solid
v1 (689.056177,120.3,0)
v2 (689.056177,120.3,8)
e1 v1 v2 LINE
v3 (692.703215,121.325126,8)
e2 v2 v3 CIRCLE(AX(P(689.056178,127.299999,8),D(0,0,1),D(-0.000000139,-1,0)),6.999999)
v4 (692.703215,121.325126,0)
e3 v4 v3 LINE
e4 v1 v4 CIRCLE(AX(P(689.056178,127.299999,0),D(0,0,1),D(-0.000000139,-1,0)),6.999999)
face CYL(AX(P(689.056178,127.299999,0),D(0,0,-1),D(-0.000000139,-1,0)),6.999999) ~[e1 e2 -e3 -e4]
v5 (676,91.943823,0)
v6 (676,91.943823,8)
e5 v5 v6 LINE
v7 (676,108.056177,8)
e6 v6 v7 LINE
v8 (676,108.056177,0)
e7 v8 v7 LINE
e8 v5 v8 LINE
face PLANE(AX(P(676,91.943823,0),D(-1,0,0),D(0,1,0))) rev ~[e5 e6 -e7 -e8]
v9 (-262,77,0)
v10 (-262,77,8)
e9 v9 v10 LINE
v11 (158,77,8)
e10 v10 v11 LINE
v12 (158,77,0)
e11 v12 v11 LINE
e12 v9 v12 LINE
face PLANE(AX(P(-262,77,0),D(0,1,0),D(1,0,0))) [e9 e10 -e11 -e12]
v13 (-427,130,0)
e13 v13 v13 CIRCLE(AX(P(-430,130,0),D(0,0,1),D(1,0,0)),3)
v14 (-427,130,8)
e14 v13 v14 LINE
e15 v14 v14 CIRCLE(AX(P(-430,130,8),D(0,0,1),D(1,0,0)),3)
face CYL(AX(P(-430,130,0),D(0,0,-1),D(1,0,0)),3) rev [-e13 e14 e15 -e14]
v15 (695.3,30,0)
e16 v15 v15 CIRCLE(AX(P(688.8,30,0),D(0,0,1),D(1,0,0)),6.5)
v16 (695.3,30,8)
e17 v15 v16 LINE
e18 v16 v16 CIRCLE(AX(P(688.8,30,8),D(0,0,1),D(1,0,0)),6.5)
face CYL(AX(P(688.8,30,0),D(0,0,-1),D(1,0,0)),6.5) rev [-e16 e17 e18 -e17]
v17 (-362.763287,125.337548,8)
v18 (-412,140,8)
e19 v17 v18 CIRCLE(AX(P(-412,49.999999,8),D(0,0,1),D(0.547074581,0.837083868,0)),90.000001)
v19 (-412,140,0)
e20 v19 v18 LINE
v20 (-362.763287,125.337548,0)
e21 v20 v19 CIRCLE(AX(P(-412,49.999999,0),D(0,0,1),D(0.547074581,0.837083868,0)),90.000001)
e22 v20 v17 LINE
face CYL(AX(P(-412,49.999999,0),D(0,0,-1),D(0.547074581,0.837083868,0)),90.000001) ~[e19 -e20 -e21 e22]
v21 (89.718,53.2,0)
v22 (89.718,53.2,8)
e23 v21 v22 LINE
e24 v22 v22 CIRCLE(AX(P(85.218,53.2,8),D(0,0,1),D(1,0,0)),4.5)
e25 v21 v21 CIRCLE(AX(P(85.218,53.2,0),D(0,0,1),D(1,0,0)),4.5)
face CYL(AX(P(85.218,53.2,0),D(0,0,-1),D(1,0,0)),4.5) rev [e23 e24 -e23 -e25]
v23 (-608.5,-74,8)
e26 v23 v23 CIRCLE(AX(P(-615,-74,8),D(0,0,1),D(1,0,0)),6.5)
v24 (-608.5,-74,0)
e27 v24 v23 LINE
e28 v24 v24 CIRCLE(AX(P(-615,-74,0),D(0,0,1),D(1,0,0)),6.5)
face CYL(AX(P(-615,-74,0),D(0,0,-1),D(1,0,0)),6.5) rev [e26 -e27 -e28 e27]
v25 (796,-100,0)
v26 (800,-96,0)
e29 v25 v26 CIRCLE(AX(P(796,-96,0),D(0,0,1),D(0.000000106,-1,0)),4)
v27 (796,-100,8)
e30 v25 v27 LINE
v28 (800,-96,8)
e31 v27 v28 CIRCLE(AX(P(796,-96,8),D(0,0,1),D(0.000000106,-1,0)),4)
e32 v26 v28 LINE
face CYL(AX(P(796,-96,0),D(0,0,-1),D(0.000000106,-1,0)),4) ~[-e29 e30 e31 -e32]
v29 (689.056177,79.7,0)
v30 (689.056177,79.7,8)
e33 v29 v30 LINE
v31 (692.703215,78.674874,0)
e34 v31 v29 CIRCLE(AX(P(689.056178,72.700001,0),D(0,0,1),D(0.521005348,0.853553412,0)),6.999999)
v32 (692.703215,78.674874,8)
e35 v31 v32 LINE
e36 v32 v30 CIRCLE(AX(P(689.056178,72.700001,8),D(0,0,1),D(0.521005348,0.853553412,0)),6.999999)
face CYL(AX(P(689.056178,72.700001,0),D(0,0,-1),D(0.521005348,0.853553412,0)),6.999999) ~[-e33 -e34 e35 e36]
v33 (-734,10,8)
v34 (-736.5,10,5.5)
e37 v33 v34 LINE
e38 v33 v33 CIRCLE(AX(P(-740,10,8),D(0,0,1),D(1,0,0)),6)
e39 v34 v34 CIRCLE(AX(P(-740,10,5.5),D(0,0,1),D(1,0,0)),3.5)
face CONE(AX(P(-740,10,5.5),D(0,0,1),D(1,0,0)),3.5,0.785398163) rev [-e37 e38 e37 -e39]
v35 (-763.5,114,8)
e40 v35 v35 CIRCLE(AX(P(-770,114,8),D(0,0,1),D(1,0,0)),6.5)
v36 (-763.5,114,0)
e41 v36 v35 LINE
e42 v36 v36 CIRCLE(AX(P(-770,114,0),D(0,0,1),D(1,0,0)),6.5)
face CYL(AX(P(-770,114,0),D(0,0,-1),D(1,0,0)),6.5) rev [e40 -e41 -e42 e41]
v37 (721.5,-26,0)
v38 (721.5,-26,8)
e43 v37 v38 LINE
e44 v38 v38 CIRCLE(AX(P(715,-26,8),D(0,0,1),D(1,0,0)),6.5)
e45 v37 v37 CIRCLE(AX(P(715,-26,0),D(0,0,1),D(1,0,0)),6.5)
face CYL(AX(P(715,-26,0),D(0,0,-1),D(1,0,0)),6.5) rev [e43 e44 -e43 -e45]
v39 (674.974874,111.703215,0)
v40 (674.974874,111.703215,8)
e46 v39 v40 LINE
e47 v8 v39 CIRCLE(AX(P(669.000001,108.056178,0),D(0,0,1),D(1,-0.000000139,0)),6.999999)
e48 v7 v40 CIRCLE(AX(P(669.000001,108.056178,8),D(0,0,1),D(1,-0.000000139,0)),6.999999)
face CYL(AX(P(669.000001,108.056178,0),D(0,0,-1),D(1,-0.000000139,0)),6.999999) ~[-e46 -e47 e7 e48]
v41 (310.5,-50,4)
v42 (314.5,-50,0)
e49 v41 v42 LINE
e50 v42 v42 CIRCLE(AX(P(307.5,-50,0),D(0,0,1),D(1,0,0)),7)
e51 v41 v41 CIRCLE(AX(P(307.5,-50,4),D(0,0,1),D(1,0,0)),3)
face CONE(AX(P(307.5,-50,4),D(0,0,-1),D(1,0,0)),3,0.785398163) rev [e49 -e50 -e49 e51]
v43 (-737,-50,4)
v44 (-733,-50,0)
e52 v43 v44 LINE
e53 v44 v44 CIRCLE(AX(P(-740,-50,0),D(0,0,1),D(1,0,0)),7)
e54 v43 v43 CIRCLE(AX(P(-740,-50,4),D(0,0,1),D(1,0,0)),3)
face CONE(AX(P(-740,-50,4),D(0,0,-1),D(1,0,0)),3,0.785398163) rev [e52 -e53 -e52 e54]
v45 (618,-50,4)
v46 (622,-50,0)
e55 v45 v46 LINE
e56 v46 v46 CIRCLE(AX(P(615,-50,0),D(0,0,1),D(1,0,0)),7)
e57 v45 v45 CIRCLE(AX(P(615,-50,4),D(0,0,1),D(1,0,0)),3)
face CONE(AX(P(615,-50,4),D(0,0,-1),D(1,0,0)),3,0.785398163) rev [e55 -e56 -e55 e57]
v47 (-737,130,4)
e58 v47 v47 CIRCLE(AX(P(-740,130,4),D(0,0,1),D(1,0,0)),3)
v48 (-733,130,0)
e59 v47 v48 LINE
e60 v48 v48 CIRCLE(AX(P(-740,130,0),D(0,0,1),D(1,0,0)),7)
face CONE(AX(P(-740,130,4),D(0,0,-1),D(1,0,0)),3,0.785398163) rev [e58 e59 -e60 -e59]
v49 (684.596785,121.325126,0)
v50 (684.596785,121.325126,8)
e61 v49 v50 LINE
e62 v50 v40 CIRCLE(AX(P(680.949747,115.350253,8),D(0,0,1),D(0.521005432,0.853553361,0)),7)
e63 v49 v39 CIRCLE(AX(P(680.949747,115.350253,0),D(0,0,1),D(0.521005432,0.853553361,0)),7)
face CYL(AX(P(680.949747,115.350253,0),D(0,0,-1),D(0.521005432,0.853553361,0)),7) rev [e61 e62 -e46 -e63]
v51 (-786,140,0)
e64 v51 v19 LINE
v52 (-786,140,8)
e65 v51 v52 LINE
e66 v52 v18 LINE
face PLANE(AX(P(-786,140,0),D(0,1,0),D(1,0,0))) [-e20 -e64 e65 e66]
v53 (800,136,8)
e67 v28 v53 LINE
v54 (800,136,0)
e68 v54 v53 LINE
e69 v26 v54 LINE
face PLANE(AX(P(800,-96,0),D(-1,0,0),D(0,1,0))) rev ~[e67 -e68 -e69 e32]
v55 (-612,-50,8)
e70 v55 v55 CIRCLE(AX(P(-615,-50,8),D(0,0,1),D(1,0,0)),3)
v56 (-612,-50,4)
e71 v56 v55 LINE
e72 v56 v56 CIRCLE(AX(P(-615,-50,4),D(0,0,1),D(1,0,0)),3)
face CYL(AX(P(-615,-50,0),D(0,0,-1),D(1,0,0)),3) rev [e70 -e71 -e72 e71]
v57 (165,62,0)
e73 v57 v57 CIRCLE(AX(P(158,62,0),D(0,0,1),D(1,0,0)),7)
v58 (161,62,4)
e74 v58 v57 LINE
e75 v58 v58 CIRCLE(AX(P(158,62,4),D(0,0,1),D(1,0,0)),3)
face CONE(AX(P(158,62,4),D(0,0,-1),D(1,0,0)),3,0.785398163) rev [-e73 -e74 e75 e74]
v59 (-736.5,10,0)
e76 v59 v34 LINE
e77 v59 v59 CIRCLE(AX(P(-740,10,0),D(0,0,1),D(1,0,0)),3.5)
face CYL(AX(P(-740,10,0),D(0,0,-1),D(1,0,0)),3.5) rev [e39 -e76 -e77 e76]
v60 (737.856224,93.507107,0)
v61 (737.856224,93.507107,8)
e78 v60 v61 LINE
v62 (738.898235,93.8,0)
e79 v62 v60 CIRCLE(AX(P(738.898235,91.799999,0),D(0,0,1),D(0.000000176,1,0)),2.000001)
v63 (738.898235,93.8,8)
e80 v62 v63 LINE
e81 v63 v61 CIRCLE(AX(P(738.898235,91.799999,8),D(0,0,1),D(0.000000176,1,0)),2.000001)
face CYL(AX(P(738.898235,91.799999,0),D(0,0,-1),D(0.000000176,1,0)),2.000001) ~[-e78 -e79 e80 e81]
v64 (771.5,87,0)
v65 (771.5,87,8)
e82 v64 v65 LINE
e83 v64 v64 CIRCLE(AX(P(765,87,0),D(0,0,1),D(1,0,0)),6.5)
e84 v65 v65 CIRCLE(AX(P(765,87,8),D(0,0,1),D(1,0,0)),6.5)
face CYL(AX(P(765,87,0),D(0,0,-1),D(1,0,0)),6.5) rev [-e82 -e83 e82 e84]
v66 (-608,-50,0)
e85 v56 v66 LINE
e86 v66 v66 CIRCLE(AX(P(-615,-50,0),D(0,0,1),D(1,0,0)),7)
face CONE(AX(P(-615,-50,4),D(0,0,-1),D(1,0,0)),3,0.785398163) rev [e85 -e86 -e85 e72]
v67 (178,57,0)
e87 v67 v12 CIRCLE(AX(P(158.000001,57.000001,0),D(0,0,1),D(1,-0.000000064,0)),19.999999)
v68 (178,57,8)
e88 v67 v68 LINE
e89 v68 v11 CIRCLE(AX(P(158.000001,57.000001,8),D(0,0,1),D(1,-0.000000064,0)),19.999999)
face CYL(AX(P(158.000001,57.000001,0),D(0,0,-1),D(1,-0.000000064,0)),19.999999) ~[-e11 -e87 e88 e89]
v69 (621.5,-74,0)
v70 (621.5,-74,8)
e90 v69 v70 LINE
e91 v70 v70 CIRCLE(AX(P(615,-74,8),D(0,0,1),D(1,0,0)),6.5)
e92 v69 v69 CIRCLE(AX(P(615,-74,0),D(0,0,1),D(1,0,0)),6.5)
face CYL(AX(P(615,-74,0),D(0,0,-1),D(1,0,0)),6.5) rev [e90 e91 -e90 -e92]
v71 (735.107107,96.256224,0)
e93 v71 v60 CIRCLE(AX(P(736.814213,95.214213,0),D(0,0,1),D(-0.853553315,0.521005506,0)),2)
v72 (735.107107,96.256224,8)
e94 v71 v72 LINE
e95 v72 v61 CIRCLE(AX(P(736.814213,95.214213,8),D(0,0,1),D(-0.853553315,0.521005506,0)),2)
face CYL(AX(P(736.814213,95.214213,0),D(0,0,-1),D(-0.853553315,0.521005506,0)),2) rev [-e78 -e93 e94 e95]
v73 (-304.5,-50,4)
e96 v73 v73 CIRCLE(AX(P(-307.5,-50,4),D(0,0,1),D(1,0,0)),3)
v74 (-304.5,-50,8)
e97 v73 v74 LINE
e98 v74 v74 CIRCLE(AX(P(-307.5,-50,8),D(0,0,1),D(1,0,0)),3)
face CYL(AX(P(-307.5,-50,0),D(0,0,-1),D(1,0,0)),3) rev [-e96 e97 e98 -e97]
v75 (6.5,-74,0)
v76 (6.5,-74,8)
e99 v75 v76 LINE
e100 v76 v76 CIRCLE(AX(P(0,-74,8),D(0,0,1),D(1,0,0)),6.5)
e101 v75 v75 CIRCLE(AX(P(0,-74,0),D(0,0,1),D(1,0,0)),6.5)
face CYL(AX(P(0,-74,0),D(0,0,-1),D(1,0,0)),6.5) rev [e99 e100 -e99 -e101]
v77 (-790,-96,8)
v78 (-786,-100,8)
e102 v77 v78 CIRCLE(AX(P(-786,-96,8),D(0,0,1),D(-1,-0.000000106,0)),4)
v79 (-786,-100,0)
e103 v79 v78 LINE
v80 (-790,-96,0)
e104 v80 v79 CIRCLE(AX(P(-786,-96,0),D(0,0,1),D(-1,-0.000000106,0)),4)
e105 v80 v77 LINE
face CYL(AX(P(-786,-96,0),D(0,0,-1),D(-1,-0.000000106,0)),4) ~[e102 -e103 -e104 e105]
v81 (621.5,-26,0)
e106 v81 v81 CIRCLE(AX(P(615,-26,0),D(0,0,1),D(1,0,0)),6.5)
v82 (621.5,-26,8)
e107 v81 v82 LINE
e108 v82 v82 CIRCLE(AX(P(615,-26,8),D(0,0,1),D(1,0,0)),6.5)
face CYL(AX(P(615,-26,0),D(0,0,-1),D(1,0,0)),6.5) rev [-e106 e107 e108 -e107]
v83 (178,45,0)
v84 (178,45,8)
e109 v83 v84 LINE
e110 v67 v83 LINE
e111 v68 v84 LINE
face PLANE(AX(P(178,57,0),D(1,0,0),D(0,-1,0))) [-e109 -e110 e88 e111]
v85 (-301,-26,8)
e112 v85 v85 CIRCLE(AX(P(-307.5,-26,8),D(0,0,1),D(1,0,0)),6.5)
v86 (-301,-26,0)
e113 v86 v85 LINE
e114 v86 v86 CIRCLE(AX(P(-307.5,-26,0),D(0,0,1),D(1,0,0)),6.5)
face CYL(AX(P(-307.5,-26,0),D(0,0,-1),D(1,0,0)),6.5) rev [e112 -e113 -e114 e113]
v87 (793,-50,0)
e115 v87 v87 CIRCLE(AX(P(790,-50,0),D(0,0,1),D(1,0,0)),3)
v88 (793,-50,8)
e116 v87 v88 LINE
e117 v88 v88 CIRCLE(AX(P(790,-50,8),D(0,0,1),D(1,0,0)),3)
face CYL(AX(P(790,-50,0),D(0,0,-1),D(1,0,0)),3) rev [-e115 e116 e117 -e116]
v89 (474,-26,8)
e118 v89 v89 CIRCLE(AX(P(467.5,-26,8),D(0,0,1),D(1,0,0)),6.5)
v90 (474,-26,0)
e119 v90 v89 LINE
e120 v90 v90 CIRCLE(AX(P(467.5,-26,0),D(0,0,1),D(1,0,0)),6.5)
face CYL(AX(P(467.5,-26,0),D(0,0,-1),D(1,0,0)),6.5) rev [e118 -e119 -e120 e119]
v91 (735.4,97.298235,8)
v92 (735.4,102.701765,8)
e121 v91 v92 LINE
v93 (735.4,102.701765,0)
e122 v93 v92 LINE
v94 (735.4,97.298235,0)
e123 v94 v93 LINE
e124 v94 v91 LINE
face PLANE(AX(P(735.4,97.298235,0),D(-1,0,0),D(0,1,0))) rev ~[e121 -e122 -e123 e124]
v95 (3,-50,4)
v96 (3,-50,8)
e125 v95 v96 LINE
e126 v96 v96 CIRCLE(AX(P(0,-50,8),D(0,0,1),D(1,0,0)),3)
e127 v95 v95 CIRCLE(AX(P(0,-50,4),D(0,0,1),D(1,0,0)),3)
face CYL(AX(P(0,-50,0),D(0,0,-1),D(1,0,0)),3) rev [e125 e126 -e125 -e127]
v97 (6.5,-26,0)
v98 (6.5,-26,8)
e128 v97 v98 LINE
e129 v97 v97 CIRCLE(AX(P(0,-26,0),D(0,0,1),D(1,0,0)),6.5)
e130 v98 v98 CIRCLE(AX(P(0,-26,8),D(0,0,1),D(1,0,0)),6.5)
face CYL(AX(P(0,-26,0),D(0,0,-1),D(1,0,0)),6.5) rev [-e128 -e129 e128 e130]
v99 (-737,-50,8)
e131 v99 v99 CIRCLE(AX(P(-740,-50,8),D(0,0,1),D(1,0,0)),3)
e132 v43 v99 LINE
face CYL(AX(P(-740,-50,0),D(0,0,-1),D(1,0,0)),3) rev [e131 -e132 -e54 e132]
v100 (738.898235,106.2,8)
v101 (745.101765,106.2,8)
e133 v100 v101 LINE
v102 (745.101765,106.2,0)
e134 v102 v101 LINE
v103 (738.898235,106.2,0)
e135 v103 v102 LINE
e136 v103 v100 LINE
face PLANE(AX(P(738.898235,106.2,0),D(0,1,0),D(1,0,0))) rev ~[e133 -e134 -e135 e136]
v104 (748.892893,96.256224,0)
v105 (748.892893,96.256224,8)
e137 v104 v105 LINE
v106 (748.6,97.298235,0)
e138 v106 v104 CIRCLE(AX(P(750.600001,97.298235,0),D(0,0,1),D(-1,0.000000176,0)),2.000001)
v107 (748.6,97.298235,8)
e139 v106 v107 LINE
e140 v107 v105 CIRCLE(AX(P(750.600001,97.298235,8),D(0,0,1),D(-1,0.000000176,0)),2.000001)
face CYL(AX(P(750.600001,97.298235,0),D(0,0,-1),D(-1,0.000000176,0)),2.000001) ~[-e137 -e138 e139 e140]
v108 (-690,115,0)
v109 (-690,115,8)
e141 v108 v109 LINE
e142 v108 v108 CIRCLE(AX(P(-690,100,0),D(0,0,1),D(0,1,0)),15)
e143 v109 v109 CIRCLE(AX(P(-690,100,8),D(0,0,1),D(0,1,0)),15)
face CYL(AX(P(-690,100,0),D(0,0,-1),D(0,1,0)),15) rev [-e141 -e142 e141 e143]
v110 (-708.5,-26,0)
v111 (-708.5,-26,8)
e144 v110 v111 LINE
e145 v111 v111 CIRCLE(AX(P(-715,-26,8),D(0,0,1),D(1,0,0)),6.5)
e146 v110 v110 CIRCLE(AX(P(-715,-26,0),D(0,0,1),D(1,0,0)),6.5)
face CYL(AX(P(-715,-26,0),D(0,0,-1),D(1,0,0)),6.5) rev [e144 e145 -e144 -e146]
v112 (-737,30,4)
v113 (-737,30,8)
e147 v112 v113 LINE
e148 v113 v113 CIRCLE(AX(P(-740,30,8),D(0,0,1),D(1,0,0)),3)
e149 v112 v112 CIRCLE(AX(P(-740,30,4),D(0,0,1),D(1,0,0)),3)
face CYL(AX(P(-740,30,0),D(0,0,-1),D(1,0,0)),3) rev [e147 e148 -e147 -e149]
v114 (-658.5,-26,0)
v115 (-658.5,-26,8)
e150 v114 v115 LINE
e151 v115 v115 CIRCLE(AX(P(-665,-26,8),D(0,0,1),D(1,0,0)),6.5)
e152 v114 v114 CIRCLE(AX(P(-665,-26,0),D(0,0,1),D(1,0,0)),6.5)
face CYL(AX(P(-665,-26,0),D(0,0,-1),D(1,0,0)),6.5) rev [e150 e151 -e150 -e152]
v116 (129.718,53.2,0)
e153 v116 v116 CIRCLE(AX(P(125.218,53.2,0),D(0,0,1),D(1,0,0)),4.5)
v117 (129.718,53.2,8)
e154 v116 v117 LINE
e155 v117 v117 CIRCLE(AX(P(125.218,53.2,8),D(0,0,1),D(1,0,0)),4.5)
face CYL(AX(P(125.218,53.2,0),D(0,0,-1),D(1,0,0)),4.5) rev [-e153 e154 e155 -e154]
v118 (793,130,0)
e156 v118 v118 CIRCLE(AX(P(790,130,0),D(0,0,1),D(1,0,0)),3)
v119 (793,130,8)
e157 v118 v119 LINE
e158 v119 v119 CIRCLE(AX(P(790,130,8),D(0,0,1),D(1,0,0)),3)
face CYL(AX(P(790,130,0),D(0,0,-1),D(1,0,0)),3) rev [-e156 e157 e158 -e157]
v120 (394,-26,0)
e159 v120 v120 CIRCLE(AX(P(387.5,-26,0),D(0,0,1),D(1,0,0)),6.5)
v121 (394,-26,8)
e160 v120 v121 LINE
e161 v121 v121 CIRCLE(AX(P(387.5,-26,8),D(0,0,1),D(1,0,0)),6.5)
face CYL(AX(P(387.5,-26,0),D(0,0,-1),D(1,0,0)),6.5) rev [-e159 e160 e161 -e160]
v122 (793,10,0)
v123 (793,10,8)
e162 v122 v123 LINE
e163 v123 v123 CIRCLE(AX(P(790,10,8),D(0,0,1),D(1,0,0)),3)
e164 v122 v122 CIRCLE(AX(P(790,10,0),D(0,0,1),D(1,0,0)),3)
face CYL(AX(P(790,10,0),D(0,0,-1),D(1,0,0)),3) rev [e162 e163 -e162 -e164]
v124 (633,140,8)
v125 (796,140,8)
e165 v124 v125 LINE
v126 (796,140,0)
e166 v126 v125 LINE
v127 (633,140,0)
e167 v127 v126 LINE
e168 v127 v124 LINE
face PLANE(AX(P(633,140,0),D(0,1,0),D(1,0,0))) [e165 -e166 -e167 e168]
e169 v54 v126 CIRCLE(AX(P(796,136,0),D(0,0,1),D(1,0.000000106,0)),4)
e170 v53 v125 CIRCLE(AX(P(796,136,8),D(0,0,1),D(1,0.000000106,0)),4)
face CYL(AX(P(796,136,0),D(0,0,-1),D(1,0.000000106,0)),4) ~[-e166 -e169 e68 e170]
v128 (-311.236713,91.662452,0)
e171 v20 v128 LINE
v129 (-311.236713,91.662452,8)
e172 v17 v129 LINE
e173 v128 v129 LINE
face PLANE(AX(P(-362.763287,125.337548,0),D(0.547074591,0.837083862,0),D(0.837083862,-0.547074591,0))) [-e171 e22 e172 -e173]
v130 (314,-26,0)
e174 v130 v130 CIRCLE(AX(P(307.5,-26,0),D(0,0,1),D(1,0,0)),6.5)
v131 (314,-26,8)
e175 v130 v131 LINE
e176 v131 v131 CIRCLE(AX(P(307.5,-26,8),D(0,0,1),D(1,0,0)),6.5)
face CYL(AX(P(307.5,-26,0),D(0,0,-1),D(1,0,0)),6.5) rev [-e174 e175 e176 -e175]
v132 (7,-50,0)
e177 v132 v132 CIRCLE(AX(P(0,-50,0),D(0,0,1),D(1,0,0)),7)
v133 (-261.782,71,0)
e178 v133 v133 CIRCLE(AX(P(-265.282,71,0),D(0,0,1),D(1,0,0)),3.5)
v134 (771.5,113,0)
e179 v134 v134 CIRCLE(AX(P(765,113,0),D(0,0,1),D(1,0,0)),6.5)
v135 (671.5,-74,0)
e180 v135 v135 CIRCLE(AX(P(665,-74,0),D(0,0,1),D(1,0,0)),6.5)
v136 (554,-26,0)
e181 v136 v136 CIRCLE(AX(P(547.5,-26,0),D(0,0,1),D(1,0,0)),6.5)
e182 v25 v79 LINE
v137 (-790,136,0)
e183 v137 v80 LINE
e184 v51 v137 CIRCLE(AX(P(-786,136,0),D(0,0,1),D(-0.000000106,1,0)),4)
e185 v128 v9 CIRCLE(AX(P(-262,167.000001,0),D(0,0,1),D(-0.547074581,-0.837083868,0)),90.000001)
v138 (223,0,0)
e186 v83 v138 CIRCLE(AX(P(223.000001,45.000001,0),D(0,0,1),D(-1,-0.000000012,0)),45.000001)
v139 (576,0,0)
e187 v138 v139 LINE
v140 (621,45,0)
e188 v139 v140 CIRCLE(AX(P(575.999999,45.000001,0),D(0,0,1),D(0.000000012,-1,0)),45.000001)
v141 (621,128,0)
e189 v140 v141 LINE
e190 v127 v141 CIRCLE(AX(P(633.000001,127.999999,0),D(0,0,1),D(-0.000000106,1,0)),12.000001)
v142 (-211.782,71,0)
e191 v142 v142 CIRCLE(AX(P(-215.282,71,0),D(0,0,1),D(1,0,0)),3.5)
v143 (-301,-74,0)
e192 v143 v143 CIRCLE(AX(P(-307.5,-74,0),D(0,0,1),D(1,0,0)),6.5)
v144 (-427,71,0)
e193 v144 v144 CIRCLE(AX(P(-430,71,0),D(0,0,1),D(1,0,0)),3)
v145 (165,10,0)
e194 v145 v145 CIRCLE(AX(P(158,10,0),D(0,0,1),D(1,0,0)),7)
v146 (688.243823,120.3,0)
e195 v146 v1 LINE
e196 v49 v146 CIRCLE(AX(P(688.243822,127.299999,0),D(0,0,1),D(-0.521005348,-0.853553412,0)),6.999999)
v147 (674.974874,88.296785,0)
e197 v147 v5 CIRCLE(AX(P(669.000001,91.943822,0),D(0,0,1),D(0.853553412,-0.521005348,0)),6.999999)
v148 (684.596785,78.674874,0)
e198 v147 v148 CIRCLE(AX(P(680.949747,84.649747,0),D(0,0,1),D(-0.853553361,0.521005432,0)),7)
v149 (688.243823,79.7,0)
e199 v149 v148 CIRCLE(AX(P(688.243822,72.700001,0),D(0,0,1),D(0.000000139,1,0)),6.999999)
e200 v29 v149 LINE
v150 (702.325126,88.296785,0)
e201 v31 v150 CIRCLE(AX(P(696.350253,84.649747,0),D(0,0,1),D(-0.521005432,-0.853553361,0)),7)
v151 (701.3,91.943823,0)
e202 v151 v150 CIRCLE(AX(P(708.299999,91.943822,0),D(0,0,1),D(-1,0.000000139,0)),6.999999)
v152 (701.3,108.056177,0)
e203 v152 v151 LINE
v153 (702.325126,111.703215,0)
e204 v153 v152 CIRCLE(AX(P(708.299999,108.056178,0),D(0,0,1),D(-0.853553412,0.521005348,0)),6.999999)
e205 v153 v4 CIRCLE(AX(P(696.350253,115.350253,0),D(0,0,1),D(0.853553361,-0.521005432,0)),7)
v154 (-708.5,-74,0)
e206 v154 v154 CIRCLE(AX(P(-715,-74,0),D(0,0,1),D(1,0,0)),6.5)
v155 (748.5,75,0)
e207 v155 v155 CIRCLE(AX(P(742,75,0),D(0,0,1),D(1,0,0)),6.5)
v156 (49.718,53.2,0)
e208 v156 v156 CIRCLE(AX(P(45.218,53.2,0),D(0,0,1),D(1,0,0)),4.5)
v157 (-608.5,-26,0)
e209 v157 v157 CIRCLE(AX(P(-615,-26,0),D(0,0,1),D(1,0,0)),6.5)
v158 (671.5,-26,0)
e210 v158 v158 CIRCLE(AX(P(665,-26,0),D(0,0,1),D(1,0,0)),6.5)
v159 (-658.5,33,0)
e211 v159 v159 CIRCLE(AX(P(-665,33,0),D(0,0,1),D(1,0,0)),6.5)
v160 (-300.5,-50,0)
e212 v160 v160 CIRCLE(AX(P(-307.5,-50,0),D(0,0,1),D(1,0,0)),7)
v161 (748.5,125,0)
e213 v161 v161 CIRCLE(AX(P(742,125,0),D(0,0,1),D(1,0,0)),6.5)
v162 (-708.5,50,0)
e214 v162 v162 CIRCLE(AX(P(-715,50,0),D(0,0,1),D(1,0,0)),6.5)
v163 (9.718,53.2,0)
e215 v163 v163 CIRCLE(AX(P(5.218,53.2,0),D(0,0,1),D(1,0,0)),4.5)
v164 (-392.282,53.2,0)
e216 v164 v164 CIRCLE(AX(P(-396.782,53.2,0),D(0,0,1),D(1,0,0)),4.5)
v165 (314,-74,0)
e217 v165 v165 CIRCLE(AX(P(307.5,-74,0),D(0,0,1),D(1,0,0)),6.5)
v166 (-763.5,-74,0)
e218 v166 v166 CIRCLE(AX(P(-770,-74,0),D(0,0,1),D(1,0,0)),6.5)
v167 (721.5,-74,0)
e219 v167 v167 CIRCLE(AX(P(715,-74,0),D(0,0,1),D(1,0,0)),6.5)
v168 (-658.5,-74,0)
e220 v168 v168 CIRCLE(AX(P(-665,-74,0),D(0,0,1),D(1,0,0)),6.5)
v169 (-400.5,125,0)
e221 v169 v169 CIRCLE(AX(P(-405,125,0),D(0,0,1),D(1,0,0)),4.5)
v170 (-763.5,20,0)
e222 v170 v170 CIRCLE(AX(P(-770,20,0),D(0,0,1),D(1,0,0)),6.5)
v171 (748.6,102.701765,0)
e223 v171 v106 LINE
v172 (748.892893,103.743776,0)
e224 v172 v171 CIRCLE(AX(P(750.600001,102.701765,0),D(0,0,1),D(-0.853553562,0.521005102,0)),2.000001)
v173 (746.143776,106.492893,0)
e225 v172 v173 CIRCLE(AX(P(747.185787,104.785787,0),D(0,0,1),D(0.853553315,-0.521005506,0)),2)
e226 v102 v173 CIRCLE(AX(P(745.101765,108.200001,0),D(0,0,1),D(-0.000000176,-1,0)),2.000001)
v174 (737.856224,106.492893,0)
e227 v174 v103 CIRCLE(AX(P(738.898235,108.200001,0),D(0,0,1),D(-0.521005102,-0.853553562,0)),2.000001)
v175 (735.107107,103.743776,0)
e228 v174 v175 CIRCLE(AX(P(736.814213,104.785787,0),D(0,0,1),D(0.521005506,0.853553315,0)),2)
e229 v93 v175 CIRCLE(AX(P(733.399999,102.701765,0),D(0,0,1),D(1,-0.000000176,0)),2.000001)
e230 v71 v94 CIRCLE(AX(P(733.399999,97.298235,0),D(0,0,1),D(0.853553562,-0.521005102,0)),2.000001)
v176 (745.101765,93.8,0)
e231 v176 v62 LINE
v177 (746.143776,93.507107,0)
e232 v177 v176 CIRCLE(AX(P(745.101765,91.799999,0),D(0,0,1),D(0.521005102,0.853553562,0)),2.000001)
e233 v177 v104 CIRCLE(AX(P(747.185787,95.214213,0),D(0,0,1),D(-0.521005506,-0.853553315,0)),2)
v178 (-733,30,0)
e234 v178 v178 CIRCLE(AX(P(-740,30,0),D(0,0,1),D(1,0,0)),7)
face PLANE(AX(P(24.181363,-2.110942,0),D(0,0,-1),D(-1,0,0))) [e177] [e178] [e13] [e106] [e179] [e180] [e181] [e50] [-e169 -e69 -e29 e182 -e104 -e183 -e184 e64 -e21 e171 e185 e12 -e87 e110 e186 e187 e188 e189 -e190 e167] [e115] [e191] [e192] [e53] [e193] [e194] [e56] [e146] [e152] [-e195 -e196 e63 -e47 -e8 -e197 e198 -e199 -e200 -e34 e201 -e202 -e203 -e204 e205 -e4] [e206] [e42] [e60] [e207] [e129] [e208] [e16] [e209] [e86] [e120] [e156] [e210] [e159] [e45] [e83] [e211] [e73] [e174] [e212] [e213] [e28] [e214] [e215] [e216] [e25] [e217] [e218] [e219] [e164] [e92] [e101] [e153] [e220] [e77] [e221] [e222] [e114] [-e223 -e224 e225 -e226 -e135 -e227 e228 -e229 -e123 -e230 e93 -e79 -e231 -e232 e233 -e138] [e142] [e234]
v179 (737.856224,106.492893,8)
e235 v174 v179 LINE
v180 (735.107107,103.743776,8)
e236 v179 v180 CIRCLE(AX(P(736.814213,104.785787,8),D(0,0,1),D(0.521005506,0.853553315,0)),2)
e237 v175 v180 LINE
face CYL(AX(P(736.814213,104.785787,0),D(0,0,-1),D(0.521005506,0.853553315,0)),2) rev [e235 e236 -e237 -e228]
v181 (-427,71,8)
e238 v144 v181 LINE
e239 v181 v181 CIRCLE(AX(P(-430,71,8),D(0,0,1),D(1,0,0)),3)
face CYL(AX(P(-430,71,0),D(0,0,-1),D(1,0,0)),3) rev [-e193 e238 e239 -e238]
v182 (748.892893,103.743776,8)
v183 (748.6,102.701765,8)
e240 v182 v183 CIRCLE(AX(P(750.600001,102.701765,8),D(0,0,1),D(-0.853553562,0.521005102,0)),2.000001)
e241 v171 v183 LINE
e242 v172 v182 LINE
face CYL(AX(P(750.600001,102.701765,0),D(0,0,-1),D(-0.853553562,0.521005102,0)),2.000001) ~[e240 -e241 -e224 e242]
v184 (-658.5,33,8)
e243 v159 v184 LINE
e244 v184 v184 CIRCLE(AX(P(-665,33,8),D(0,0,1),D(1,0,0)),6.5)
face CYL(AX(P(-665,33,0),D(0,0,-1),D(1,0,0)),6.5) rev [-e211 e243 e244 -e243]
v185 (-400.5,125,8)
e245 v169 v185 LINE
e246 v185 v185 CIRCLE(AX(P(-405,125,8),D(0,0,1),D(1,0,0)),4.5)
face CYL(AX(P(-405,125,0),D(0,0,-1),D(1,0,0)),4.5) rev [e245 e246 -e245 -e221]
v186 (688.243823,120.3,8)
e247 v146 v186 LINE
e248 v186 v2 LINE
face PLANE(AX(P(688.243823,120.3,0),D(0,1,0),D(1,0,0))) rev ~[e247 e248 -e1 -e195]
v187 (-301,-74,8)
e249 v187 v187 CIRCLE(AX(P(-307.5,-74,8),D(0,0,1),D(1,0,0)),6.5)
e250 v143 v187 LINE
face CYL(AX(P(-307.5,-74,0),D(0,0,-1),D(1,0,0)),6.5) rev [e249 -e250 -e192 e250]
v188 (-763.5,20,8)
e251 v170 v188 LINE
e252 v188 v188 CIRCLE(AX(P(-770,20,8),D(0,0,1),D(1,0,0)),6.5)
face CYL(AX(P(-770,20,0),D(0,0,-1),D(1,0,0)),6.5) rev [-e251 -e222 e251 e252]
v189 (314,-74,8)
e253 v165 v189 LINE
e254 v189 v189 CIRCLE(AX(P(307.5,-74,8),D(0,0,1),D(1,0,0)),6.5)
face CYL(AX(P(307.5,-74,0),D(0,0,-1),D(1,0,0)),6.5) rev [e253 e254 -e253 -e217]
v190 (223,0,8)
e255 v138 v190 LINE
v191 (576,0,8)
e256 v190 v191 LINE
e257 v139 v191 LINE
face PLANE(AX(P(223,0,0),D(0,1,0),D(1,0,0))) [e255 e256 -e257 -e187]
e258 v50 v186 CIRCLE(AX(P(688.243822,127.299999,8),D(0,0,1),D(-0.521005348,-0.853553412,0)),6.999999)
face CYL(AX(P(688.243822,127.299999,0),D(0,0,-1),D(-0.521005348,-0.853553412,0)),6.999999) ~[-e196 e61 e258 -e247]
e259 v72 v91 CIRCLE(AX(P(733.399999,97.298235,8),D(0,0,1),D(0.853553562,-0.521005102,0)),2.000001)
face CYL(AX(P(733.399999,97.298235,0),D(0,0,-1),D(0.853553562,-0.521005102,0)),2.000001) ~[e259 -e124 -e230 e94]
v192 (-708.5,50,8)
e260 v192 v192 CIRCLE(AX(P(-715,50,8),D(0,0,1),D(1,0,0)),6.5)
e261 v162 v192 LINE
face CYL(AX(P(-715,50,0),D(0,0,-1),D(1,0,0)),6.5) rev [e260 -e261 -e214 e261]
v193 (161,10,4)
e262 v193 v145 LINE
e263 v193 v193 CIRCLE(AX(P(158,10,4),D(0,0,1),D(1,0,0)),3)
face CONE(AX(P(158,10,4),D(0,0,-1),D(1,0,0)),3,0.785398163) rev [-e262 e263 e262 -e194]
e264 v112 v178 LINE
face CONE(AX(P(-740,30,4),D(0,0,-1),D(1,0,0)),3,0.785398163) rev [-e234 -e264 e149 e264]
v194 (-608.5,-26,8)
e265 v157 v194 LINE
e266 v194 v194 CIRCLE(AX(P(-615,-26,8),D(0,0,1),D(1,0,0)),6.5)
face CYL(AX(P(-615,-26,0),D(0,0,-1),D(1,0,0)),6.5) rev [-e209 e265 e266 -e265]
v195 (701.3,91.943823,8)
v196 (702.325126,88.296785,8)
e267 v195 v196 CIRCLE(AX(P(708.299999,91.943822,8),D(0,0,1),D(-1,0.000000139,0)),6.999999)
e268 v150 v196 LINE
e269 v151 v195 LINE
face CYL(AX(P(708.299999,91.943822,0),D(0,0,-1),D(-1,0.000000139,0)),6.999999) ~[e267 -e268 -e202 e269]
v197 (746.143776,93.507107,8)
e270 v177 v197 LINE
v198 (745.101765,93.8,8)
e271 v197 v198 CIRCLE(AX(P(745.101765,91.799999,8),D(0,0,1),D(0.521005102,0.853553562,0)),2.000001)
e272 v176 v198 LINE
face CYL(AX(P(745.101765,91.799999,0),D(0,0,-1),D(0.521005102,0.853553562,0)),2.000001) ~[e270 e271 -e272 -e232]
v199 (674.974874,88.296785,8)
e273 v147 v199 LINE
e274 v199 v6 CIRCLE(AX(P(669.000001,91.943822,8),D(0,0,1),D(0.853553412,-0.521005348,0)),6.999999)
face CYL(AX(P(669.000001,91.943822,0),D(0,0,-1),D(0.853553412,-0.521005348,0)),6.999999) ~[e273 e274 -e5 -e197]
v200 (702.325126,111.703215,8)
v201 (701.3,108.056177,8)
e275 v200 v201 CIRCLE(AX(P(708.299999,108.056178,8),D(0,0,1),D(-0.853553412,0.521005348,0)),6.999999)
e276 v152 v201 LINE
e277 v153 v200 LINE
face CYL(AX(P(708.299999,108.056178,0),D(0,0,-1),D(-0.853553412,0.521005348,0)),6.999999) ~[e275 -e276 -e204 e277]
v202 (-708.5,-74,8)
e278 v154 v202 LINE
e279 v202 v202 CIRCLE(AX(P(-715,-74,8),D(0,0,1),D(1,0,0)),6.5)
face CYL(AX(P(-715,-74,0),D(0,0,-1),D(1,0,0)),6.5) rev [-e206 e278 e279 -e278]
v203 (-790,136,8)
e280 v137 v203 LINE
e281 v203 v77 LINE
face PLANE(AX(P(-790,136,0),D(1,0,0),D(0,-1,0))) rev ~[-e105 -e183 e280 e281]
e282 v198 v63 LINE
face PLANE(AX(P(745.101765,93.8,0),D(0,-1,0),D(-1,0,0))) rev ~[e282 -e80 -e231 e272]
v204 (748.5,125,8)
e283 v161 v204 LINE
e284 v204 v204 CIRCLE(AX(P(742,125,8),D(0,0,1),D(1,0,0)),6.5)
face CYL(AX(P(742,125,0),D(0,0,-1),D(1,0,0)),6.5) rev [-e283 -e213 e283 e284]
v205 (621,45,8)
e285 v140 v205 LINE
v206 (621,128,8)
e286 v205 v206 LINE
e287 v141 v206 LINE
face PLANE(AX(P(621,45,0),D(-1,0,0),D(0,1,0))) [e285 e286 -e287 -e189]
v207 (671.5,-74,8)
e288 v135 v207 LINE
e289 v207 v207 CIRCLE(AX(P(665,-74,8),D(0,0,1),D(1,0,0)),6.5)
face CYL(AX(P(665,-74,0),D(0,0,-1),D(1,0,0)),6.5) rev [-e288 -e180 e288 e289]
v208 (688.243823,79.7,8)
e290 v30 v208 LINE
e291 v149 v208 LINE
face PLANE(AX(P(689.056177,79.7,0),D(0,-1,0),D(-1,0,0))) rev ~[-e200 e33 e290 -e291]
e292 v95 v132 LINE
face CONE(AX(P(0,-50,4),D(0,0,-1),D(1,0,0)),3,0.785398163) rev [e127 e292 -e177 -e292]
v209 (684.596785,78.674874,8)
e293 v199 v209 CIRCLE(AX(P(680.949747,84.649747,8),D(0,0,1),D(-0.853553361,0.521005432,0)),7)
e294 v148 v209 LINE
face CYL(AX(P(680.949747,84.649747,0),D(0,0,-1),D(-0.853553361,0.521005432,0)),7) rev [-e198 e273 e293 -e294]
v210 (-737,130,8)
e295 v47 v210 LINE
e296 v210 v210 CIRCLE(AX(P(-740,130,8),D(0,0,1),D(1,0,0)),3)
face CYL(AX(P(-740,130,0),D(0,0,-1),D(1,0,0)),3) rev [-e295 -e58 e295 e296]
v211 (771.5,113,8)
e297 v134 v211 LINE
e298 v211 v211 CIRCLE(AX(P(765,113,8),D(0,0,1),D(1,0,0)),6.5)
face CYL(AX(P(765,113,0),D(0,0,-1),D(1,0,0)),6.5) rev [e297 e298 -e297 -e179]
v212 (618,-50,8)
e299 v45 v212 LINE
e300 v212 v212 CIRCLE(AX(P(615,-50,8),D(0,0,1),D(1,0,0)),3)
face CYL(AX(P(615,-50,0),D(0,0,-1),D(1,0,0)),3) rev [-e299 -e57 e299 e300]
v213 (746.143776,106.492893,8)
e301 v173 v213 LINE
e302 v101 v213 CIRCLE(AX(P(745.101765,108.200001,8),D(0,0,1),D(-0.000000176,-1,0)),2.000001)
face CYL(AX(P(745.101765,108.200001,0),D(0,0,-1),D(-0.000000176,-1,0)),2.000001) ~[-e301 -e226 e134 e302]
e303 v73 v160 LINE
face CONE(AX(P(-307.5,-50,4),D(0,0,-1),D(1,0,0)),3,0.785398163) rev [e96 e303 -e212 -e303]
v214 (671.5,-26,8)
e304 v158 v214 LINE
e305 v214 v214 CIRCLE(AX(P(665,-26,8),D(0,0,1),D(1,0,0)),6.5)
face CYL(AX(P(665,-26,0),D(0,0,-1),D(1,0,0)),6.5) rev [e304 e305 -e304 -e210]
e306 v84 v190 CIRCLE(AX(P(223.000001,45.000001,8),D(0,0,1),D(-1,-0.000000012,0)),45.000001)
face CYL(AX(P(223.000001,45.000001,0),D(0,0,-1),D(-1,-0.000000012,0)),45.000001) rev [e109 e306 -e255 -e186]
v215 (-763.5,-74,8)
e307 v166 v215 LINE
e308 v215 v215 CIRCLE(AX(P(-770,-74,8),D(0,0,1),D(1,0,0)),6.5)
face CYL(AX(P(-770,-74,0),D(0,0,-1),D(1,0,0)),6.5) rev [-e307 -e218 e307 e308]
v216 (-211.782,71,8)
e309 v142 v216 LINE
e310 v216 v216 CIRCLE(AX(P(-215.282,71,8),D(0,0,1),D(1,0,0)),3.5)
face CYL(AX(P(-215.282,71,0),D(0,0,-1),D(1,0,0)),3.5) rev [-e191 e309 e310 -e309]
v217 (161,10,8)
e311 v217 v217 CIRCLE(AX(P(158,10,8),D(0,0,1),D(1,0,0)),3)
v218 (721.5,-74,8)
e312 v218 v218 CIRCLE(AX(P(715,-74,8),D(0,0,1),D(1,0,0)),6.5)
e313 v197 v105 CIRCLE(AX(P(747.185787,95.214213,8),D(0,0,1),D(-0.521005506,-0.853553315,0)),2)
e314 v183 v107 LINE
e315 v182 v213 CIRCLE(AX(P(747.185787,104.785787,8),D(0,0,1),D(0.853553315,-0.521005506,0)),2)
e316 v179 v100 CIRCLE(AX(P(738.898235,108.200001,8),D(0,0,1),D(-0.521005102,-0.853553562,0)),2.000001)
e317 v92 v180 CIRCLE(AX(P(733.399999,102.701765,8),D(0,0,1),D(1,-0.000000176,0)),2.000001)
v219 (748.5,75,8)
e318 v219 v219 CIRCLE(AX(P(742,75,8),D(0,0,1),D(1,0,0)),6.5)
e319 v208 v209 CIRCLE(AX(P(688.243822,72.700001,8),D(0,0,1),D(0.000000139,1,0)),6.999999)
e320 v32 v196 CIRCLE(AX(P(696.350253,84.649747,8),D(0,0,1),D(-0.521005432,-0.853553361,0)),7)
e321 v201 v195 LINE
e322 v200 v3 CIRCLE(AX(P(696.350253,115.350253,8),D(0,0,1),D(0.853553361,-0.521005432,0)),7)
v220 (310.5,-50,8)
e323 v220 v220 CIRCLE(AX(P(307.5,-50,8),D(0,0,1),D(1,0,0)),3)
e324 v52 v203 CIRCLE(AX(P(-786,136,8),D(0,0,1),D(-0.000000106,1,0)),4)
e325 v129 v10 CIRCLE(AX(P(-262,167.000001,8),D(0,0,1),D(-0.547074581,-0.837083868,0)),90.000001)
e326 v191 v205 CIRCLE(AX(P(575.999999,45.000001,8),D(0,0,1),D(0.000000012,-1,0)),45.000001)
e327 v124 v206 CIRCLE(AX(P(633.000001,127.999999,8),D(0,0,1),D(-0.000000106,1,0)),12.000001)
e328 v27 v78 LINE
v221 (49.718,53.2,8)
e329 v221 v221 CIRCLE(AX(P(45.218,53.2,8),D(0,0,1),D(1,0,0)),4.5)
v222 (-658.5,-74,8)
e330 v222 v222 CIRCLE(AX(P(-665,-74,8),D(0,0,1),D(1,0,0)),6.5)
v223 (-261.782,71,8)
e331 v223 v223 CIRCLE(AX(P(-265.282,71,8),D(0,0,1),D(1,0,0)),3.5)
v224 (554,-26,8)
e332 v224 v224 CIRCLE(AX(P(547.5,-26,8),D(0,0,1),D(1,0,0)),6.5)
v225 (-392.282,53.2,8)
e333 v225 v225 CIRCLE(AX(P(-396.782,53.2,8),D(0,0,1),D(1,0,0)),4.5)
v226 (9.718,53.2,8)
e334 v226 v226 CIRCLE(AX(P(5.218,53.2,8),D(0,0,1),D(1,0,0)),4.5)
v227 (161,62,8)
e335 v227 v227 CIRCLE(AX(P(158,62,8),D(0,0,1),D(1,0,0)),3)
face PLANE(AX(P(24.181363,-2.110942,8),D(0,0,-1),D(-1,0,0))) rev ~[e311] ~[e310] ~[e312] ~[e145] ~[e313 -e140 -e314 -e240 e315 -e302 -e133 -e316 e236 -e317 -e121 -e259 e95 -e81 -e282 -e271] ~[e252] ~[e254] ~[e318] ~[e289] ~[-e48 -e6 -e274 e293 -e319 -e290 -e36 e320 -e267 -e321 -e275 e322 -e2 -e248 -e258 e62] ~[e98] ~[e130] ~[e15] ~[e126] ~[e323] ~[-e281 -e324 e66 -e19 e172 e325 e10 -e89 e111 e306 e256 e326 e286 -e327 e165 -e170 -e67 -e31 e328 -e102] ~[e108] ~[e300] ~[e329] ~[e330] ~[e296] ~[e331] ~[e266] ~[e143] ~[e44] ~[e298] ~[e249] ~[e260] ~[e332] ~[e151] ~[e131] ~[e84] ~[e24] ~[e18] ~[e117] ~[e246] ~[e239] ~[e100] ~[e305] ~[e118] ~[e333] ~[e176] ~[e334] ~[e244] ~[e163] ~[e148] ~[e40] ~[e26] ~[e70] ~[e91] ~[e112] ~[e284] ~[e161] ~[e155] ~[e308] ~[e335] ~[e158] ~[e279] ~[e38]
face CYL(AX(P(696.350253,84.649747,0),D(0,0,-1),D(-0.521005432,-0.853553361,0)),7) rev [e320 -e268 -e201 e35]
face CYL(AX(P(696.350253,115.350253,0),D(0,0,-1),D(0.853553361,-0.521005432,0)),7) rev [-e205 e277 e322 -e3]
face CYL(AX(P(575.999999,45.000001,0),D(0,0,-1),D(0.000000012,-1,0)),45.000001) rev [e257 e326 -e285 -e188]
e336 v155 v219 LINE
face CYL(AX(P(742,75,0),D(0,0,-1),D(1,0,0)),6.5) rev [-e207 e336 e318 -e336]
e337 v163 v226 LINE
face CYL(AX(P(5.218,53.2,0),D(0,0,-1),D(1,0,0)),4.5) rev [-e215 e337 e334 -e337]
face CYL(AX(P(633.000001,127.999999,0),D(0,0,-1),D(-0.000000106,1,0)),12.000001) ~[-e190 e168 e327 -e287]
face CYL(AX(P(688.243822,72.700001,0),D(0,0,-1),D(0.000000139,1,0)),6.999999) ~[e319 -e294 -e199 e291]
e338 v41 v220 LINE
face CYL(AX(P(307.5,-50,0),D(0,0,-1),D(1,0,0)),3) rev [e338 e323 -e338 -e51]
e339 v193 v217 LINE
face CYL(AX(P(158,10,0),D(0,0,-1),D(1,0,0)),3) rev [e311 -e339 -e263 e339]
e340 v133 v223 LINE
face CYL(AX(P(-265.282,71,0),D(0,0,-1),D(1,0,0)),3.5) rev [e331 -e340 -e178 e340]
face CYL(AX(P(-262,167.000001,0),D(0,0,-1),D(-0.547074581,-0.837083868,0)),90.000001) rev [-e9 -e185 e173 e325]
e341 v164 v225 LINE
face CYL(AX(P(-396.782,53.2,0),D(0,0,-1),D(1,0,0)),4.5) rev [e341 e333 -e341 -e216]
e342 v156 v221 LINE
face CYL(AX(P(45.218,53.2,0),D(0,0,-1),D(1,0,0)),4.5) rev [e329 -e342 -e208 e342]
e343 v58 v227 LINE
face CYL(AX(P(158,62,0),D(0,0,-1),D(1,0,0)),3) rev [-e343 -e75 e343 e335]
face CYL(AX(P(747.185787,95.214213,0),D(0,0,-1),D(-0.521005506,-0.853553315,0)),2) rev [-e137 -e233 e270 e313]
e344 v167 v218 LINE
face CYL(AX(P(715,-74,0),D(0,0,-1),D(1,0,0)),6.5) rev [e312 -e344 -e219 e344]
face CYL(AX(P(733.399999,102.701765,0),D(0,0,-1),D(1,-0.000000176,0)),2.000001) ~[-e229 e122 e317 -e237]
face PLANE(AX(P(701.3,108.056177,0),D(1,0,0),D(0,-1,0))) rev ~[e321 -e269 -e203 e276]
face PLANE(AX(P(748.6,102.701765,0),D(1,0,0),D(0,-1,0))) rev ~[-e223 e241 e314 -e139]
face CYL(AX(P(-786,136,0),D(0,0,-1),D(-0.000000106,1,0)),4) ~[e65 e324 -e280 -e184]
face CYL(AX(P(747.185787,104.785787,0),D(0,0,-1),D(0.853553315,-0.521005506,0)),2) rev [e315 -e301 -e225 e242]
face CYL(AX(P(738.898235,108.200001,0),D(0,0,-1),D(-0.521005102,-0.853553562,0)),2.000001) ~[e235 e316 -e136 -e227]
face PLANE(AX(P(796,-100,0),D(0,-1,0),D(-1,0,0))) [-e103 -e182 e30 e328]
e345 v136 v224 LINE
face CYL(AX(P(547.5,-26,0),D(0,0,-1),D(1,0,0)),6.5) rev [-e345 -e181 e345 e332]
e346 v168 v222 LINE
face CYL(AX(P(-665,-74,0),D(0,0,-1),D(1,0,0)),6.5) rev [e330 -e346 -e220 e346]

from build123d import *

# Parameters (mm, degrees)
SKETCH_R        = 6.5
SKETCH_R_2      = 3
SKETCH_R_3      = 4.5
SKETCH_R_4      = 3.5
PAD_DEPTH       = 8
CHAMFER_SIZE    = 4
CHAMFER001_SIZE = 2.5


with BuildPart() as part:
    # Sketch → Pad (new body)
    with BuildSketch(Plane.XY):
        with BuildLine():
            Line((223, 0), (576, 0))
            ThreePointArc((576, 0), (607.819805, 13.180195), (621, 45))
            Line((621, 45), (621, 128))
            ThreePointArc((633, 140), (624.514719, 136.485281), (621, 128))
            Line((633, 140), (796, 140))
            ThreePointArc((800, 136), (798.828427, 138.828427), (796, 140))
            Line((800, -96), (800, 136))
            ThreePointArc((796, -100), (798.828427, -98.828427), (800, -96))
            Line((796, -100), (-786, -100))
            ThreePointArc((-790, -96), (-788.828427, -98.828427), (-786, -100))
            Line((-790, 136), (-790, -96))
            ThreePointArc((-786, 140), (-788.828427, 138.828427), (-790, 136))
            Line((-786, 140), (-412, 140))
            ThreePointArc((-362.763287, 125.337548), (-386.313226, 136.256534), (-412, 140))
            Line((-362.763287, 125.337548), (-311.236713, 91.662452))
            ThreePointArc((-311.236713, 91.662452), (-287.686774, 80.743466), (-262, 77))
            Line((-262, 77), (158, 77))
            ThreePointArc((178, 57), (172.142136, 71.142136), (158, 77))
            Line((178, 57), (178, 45))
            ThreePointArc((178, 45), (191.180195, 13.180195), (223, 0))
        make_face()
        with Locations((-715, 50)):
            Circle(SKETCH_R, mode=Mode.SUBTRACT)
        with Locations((-665, 33)):
            Circle(SKETCH_R, mode=Mode.SUBTRACT)
        with Locations((-715, -26)):
            Circle(SKETCH_R, mode=Mode.SUBTRACT)
        with Locations((-307.5, -26)):
            Circle(SKETCH_R, mode=Mode.SUBTRACT)
        with Locations((-307.5, -74)):
            Circle(SKETCH_R, mode=Mode.SUBTRACT)
        with Locations((0, -74)):
            Circle(SKETCH_R, mode=Mode.SUBTRACT)
        with Locations((0, -26)):
            Circle(SKETCH_R, mode=Mode.SUBTRACT)
        with Locations((307.5, -74)):
            Circle(SKETCH_R, mode=Mode.SUBTRACT)
        with Locations((307.5, -26)):
            Circle(SKETCH_R, mode=Mode.SUBTRACT)
        with Locations((715, -26)):
            Circle(SKETCH_R, mode=Mode.SUBTRACT)
        with Locations((715, -74)):
            Circle(SKETCH_R, mode=Mode.SUBTRACT)
        with Locations((307.5, -50)):
            Circle(SKETCH_R_2, mode=Mode.SUBTRACT)
        with Locations((-307.5, -50)):
            Circle(SKETCH_R_2, mode=Mode.SUBTRACT)
        with Locations((-715, -74)):
            Circle(SKETCH_R, mode=Mode.SUBTRACT)
        with Locations((-430, 130)):
            Circle(SKETCH_R_2, mode=Mode.SUBTRACT)
        with Locations((-430, 71)):
            Circle(SKETCH_R_2, mode=Mode.SUBTRACT)
        with Locations((615, -26)):
            Circle(SKETCH_R, mode=Mode.SUBTRACT)
        with Locations((665, -26)):
            Circle(SKETCH_R, mode=Mode.SUBTRACT)
        with Locations((615, -74)):
            Circle(SKETCH_R, mode=Mode.SUBTRACT)
        with Locations((665, -74)):
            Circle(SKETCH_R, mode=Mode.SUBTRACT)
        with Locations((0, -50)):
            Circle(SKETCH_R_2, mode=Mode.SUBTRACT)
        with Locations((790, -50)):
            Circle(SKETCH_R_2, mode=Mode.SUBTRACT)
        with Locations((742, 125)):
            Circle(SKETCH_R, mode=Mode.SUBTRACT)
        with Locations((765, 113)):
            Circle(SKETCH_R, mode=Mode.SUBTRACT)
        with Locations((765, 87)):
            Circle(SKETCH_R, mode=Mode.SUBTRACT)
        with Locations((742, 75)):
            Circle(SKETCH_R, mode=Mode.SUBTRACT)
        with Locations((-665, -74)):
            Circle(SKETCH_R, mode=Mode.SUBTRACT)
        with Locations((-615, -74)):
            Circle(SKETCH_R, mode=Mode.SUBTRACT)
        with Locations((-665, -26)):
            Circle(SKETCH_R, mode=Mode.SUBTRACT)
        with Locations((-615, -26)):
            Circle(SKETCH_R, mode=Mode.SUBTRACT)
        with Locations((-396.782, 53.2)):
            Circle(SKETCH_R_3, mode=Mode.SUBTRACT)
        with Locations((5.218, 53.2)):
            Circle(SKETCH_R_3, mode=Mode.SUBTRACT)
        with Locations((45.218, 53.2)):
            Circle(SKETCH_R_3, mode=Mode.SUBTRACT)
        with Locations((85.218, 53.2)):
            Circle(SKETCH_R_3, mode=Mode.SUBTRACT)
        with Locations((125.218, 53.2)):
            Circle(SKETCH_R_3, mode=Mode.SUBTRACT)
        with Locations((790, 10)):
            Circle(SKETCH_R_2, mode=Mode.SUBTRACT)
        with Locations((790, 130)):
            Circle(SKETCH_R_2, mode=Mode.SUBTRACT)
        with Locations((-740, -50)):
            Circle(SKETCH_R_2, mode=Mode.SUBTRACT)
        with Locations((-740, 10)):
            Circle(SKETCH_R_4, mode=Mode.SUBTRACT)
        with Locations((-740, 130)):
            Circle(SKETCH_R_2, mode=Mode.SUBTRACT)
        with Locations((387.5, -26)):
            Circle(SKETCH_R, mode=Mode.SUBTRACT)
        with Locations((467.5, -26)):
            Circle(SKETCH_R, mode=Mode.SUBTRACT)
        with Locations((547.5, -26)):
            Circle(SKETCH_R, mode=Mode.SUBTRACT)
        with Locations((158, 62)):
            Circle(SKETCH_R_2, mode=Mode.SUBTRACT)
        with Locations((158, 10)):
            Circle(SKETCH_R_2, mode=Mode.SUBTRACT)
        with Locations((-770, -74)):
            Circle(SKETCH_R, mode=Mode.SUBTRACT)
        with Locations((-770, 114)):
            Circle(SKETCH_R, mode=Mode.SUBTRACT)
        with Locations((-740, 30)):
            Circle(SKETCH_R_2, mode=Mode.SUBTRACT)
        with Locations((-770, 20)):
            Circle(SKETCH_R, mode=Mode.SUBTRACT)
        with Locations((-405, 125)):
            Circle(SKETCH_R_3, mode=Mode.SUBTRACT)
        with Locations((688.8, 30)):
            Circle(SKETCH_R, mode=Mode.SUBTRACT)
        with Locations((-265.282, 71)):
            Circle(SKETCH_R_4, mode=Mode.SUBTRACT)
        with Locations((-215.282, 71)):
            Circle(SKETCH_R_4, mode=Mode.SUBTRACT)
        with Locations((615, -50)):
            Circle(SKETCH_R_2, mode=Mode.SUBTRACT)
        with Locations((-615, -50)):
            Circle(SKETCH_R_2, mode=Mode.SUBTRACT)
        with BuildLine():
            ThreePointArc((-690, 85), (-675, 100), (-690, 115))
            ThreePointArc((-690, 115), (-705, 100), (-690, 85))
        make_face(mode=Mode.SUBTRACT)
        with BuildLine():
            Line((688.243823, 120.3), (689.056177, 120.3))
            ThreePointArc((689.056177, 120.3), (690.950364, 120.561153), (692.703215, 121.325126))
            ThreePointArc((702.325126, 111.703215), (701.3, 120.3), (692.703215, 121.325126))
            ThreePointArc((702.325126, 111.703215), (701.561153, 109.950364), (701.3, 108.056177))
            Line((701.3, 108.056177), (701.3, 91.943823))
            ThreePointArc((701.3, 91.943823), (701.561153, 90.049636), (702.325126, 88.296785))
            ThreePointArc((692.703215, 78.674874), (701.3, 79.7), (702.325126, 88.296785))
            ThreePointArc((692.703215, 78.674874), (690.950364, 79.438847), (689.056177, 79.7))
            Line((689.056177, 79.7), (688.243823, 79.7))
            ThreePointArc((688.243823, 79.7), (686.349636, 79.438847), (684.596785, 78.674874))
            ThreePointArc((674.974874, 88.296785), (676, 79.7), (684.596785, 78.674874))
            ThreePointArc((674.974874, 88.296785), (675.738847, 90.049636), (676, 91.943823))
            Line((676, 91.943823), (676, 108.056177))
            ThreePointArc((676, 108.056177), (675.738847, 109.950364), (674.974874, 111.703215))
            ThreePointArc((684.596785, 121.325126), (676, 120.3), (674.974874, 111.703215))
            ThreePointArc((684.596785, 121.325126), (686.349636, 120.561153), (688.243823, 120.3))
        make_face(mode=Mode.SUBTRACT)
        with BuildLine():
            Line((738.898235, 106.2), (745.101765, 106.2))
            ThreePointArc((745.101765, 106.2), (745.642961, 106.274615), (746.143776, 106.492893))
            ThreePointArc((748.892893, 103.743776), (748.6, 106.2), (746.143776, 106.492893))
            ThreePointArc((748.892893, 103.743776), (748.674615, 103.242961), (748.6, 102.701765))
            Line((748.6, 102.701765), (748.6, 97.298235))
            ThreePointArc((748.6, 97.298235), (748.674615, 96.757039), (748.892893, 96.256224))
            ThreePointArc((746.143776, 93.507107), (748.6, 93.8), (748.892893, 96.256224))
            ThreePointArc((746.143776, 93.507107), (745.642961, 93.725385), (745.101765, 93.8))
            Line((745.101765, 93.8), (738.898235, 93.8))
            ThreePointArc((738.898235, 93.8), (738.357039, 93.725385), (737.856224, 93.507107))
            ThreePointArc((735.107107, 96.256224), (735.4, 93.8), (737.856224, 93.507107))
            ThreePointArc((735.107107, 96.256224), (735.325385, 96.757039), (735.4, 97.298235))
            Line((735.4, 97.298235), (735.4, 102.701765))
            ThreePointArc((735.4, 102.701765), (735.325385, 103.242961), (735.107107, 103.743776))
            ThreePointArc((737.856224, 106.492893), (735.4, 106.2), (735.107107, 103.743776))
            ThreePointArc((737.856224, 106.492893), (738.357039, 106.274615), (738.898235, 106.2))
        make_face(mode=Mode.SUBTRACT)
    extrude(amount=PAD_DEPTH)

    # Chamfer
    chamfer_edges = [part.edges().sort_by_distance(p)[0] for p in [
        (-3, -50, 0),
        (-310.5, -50, 0),
        (155, 10, 0),
        (-743, 30, 0),
        (-618, -50, 0),
        (-743, 130, 0),
        (-743, -50, 0),
        (612, -50, 0),
        (155, 62, 0),
        (304.5, -50, 0),
    ]]
    chamfer(chamfer_edges, length=CHAMFER_SIZE)

    # Chamfer001
    chamfer001_edges = [part.edges().sort_by_distance(p)[0] for p in [
        (-743.5, 10, 8),
    ]]
    chamfer(chamfer001_edges, length=CHAMFER001_SIZE)


solid = part.part
